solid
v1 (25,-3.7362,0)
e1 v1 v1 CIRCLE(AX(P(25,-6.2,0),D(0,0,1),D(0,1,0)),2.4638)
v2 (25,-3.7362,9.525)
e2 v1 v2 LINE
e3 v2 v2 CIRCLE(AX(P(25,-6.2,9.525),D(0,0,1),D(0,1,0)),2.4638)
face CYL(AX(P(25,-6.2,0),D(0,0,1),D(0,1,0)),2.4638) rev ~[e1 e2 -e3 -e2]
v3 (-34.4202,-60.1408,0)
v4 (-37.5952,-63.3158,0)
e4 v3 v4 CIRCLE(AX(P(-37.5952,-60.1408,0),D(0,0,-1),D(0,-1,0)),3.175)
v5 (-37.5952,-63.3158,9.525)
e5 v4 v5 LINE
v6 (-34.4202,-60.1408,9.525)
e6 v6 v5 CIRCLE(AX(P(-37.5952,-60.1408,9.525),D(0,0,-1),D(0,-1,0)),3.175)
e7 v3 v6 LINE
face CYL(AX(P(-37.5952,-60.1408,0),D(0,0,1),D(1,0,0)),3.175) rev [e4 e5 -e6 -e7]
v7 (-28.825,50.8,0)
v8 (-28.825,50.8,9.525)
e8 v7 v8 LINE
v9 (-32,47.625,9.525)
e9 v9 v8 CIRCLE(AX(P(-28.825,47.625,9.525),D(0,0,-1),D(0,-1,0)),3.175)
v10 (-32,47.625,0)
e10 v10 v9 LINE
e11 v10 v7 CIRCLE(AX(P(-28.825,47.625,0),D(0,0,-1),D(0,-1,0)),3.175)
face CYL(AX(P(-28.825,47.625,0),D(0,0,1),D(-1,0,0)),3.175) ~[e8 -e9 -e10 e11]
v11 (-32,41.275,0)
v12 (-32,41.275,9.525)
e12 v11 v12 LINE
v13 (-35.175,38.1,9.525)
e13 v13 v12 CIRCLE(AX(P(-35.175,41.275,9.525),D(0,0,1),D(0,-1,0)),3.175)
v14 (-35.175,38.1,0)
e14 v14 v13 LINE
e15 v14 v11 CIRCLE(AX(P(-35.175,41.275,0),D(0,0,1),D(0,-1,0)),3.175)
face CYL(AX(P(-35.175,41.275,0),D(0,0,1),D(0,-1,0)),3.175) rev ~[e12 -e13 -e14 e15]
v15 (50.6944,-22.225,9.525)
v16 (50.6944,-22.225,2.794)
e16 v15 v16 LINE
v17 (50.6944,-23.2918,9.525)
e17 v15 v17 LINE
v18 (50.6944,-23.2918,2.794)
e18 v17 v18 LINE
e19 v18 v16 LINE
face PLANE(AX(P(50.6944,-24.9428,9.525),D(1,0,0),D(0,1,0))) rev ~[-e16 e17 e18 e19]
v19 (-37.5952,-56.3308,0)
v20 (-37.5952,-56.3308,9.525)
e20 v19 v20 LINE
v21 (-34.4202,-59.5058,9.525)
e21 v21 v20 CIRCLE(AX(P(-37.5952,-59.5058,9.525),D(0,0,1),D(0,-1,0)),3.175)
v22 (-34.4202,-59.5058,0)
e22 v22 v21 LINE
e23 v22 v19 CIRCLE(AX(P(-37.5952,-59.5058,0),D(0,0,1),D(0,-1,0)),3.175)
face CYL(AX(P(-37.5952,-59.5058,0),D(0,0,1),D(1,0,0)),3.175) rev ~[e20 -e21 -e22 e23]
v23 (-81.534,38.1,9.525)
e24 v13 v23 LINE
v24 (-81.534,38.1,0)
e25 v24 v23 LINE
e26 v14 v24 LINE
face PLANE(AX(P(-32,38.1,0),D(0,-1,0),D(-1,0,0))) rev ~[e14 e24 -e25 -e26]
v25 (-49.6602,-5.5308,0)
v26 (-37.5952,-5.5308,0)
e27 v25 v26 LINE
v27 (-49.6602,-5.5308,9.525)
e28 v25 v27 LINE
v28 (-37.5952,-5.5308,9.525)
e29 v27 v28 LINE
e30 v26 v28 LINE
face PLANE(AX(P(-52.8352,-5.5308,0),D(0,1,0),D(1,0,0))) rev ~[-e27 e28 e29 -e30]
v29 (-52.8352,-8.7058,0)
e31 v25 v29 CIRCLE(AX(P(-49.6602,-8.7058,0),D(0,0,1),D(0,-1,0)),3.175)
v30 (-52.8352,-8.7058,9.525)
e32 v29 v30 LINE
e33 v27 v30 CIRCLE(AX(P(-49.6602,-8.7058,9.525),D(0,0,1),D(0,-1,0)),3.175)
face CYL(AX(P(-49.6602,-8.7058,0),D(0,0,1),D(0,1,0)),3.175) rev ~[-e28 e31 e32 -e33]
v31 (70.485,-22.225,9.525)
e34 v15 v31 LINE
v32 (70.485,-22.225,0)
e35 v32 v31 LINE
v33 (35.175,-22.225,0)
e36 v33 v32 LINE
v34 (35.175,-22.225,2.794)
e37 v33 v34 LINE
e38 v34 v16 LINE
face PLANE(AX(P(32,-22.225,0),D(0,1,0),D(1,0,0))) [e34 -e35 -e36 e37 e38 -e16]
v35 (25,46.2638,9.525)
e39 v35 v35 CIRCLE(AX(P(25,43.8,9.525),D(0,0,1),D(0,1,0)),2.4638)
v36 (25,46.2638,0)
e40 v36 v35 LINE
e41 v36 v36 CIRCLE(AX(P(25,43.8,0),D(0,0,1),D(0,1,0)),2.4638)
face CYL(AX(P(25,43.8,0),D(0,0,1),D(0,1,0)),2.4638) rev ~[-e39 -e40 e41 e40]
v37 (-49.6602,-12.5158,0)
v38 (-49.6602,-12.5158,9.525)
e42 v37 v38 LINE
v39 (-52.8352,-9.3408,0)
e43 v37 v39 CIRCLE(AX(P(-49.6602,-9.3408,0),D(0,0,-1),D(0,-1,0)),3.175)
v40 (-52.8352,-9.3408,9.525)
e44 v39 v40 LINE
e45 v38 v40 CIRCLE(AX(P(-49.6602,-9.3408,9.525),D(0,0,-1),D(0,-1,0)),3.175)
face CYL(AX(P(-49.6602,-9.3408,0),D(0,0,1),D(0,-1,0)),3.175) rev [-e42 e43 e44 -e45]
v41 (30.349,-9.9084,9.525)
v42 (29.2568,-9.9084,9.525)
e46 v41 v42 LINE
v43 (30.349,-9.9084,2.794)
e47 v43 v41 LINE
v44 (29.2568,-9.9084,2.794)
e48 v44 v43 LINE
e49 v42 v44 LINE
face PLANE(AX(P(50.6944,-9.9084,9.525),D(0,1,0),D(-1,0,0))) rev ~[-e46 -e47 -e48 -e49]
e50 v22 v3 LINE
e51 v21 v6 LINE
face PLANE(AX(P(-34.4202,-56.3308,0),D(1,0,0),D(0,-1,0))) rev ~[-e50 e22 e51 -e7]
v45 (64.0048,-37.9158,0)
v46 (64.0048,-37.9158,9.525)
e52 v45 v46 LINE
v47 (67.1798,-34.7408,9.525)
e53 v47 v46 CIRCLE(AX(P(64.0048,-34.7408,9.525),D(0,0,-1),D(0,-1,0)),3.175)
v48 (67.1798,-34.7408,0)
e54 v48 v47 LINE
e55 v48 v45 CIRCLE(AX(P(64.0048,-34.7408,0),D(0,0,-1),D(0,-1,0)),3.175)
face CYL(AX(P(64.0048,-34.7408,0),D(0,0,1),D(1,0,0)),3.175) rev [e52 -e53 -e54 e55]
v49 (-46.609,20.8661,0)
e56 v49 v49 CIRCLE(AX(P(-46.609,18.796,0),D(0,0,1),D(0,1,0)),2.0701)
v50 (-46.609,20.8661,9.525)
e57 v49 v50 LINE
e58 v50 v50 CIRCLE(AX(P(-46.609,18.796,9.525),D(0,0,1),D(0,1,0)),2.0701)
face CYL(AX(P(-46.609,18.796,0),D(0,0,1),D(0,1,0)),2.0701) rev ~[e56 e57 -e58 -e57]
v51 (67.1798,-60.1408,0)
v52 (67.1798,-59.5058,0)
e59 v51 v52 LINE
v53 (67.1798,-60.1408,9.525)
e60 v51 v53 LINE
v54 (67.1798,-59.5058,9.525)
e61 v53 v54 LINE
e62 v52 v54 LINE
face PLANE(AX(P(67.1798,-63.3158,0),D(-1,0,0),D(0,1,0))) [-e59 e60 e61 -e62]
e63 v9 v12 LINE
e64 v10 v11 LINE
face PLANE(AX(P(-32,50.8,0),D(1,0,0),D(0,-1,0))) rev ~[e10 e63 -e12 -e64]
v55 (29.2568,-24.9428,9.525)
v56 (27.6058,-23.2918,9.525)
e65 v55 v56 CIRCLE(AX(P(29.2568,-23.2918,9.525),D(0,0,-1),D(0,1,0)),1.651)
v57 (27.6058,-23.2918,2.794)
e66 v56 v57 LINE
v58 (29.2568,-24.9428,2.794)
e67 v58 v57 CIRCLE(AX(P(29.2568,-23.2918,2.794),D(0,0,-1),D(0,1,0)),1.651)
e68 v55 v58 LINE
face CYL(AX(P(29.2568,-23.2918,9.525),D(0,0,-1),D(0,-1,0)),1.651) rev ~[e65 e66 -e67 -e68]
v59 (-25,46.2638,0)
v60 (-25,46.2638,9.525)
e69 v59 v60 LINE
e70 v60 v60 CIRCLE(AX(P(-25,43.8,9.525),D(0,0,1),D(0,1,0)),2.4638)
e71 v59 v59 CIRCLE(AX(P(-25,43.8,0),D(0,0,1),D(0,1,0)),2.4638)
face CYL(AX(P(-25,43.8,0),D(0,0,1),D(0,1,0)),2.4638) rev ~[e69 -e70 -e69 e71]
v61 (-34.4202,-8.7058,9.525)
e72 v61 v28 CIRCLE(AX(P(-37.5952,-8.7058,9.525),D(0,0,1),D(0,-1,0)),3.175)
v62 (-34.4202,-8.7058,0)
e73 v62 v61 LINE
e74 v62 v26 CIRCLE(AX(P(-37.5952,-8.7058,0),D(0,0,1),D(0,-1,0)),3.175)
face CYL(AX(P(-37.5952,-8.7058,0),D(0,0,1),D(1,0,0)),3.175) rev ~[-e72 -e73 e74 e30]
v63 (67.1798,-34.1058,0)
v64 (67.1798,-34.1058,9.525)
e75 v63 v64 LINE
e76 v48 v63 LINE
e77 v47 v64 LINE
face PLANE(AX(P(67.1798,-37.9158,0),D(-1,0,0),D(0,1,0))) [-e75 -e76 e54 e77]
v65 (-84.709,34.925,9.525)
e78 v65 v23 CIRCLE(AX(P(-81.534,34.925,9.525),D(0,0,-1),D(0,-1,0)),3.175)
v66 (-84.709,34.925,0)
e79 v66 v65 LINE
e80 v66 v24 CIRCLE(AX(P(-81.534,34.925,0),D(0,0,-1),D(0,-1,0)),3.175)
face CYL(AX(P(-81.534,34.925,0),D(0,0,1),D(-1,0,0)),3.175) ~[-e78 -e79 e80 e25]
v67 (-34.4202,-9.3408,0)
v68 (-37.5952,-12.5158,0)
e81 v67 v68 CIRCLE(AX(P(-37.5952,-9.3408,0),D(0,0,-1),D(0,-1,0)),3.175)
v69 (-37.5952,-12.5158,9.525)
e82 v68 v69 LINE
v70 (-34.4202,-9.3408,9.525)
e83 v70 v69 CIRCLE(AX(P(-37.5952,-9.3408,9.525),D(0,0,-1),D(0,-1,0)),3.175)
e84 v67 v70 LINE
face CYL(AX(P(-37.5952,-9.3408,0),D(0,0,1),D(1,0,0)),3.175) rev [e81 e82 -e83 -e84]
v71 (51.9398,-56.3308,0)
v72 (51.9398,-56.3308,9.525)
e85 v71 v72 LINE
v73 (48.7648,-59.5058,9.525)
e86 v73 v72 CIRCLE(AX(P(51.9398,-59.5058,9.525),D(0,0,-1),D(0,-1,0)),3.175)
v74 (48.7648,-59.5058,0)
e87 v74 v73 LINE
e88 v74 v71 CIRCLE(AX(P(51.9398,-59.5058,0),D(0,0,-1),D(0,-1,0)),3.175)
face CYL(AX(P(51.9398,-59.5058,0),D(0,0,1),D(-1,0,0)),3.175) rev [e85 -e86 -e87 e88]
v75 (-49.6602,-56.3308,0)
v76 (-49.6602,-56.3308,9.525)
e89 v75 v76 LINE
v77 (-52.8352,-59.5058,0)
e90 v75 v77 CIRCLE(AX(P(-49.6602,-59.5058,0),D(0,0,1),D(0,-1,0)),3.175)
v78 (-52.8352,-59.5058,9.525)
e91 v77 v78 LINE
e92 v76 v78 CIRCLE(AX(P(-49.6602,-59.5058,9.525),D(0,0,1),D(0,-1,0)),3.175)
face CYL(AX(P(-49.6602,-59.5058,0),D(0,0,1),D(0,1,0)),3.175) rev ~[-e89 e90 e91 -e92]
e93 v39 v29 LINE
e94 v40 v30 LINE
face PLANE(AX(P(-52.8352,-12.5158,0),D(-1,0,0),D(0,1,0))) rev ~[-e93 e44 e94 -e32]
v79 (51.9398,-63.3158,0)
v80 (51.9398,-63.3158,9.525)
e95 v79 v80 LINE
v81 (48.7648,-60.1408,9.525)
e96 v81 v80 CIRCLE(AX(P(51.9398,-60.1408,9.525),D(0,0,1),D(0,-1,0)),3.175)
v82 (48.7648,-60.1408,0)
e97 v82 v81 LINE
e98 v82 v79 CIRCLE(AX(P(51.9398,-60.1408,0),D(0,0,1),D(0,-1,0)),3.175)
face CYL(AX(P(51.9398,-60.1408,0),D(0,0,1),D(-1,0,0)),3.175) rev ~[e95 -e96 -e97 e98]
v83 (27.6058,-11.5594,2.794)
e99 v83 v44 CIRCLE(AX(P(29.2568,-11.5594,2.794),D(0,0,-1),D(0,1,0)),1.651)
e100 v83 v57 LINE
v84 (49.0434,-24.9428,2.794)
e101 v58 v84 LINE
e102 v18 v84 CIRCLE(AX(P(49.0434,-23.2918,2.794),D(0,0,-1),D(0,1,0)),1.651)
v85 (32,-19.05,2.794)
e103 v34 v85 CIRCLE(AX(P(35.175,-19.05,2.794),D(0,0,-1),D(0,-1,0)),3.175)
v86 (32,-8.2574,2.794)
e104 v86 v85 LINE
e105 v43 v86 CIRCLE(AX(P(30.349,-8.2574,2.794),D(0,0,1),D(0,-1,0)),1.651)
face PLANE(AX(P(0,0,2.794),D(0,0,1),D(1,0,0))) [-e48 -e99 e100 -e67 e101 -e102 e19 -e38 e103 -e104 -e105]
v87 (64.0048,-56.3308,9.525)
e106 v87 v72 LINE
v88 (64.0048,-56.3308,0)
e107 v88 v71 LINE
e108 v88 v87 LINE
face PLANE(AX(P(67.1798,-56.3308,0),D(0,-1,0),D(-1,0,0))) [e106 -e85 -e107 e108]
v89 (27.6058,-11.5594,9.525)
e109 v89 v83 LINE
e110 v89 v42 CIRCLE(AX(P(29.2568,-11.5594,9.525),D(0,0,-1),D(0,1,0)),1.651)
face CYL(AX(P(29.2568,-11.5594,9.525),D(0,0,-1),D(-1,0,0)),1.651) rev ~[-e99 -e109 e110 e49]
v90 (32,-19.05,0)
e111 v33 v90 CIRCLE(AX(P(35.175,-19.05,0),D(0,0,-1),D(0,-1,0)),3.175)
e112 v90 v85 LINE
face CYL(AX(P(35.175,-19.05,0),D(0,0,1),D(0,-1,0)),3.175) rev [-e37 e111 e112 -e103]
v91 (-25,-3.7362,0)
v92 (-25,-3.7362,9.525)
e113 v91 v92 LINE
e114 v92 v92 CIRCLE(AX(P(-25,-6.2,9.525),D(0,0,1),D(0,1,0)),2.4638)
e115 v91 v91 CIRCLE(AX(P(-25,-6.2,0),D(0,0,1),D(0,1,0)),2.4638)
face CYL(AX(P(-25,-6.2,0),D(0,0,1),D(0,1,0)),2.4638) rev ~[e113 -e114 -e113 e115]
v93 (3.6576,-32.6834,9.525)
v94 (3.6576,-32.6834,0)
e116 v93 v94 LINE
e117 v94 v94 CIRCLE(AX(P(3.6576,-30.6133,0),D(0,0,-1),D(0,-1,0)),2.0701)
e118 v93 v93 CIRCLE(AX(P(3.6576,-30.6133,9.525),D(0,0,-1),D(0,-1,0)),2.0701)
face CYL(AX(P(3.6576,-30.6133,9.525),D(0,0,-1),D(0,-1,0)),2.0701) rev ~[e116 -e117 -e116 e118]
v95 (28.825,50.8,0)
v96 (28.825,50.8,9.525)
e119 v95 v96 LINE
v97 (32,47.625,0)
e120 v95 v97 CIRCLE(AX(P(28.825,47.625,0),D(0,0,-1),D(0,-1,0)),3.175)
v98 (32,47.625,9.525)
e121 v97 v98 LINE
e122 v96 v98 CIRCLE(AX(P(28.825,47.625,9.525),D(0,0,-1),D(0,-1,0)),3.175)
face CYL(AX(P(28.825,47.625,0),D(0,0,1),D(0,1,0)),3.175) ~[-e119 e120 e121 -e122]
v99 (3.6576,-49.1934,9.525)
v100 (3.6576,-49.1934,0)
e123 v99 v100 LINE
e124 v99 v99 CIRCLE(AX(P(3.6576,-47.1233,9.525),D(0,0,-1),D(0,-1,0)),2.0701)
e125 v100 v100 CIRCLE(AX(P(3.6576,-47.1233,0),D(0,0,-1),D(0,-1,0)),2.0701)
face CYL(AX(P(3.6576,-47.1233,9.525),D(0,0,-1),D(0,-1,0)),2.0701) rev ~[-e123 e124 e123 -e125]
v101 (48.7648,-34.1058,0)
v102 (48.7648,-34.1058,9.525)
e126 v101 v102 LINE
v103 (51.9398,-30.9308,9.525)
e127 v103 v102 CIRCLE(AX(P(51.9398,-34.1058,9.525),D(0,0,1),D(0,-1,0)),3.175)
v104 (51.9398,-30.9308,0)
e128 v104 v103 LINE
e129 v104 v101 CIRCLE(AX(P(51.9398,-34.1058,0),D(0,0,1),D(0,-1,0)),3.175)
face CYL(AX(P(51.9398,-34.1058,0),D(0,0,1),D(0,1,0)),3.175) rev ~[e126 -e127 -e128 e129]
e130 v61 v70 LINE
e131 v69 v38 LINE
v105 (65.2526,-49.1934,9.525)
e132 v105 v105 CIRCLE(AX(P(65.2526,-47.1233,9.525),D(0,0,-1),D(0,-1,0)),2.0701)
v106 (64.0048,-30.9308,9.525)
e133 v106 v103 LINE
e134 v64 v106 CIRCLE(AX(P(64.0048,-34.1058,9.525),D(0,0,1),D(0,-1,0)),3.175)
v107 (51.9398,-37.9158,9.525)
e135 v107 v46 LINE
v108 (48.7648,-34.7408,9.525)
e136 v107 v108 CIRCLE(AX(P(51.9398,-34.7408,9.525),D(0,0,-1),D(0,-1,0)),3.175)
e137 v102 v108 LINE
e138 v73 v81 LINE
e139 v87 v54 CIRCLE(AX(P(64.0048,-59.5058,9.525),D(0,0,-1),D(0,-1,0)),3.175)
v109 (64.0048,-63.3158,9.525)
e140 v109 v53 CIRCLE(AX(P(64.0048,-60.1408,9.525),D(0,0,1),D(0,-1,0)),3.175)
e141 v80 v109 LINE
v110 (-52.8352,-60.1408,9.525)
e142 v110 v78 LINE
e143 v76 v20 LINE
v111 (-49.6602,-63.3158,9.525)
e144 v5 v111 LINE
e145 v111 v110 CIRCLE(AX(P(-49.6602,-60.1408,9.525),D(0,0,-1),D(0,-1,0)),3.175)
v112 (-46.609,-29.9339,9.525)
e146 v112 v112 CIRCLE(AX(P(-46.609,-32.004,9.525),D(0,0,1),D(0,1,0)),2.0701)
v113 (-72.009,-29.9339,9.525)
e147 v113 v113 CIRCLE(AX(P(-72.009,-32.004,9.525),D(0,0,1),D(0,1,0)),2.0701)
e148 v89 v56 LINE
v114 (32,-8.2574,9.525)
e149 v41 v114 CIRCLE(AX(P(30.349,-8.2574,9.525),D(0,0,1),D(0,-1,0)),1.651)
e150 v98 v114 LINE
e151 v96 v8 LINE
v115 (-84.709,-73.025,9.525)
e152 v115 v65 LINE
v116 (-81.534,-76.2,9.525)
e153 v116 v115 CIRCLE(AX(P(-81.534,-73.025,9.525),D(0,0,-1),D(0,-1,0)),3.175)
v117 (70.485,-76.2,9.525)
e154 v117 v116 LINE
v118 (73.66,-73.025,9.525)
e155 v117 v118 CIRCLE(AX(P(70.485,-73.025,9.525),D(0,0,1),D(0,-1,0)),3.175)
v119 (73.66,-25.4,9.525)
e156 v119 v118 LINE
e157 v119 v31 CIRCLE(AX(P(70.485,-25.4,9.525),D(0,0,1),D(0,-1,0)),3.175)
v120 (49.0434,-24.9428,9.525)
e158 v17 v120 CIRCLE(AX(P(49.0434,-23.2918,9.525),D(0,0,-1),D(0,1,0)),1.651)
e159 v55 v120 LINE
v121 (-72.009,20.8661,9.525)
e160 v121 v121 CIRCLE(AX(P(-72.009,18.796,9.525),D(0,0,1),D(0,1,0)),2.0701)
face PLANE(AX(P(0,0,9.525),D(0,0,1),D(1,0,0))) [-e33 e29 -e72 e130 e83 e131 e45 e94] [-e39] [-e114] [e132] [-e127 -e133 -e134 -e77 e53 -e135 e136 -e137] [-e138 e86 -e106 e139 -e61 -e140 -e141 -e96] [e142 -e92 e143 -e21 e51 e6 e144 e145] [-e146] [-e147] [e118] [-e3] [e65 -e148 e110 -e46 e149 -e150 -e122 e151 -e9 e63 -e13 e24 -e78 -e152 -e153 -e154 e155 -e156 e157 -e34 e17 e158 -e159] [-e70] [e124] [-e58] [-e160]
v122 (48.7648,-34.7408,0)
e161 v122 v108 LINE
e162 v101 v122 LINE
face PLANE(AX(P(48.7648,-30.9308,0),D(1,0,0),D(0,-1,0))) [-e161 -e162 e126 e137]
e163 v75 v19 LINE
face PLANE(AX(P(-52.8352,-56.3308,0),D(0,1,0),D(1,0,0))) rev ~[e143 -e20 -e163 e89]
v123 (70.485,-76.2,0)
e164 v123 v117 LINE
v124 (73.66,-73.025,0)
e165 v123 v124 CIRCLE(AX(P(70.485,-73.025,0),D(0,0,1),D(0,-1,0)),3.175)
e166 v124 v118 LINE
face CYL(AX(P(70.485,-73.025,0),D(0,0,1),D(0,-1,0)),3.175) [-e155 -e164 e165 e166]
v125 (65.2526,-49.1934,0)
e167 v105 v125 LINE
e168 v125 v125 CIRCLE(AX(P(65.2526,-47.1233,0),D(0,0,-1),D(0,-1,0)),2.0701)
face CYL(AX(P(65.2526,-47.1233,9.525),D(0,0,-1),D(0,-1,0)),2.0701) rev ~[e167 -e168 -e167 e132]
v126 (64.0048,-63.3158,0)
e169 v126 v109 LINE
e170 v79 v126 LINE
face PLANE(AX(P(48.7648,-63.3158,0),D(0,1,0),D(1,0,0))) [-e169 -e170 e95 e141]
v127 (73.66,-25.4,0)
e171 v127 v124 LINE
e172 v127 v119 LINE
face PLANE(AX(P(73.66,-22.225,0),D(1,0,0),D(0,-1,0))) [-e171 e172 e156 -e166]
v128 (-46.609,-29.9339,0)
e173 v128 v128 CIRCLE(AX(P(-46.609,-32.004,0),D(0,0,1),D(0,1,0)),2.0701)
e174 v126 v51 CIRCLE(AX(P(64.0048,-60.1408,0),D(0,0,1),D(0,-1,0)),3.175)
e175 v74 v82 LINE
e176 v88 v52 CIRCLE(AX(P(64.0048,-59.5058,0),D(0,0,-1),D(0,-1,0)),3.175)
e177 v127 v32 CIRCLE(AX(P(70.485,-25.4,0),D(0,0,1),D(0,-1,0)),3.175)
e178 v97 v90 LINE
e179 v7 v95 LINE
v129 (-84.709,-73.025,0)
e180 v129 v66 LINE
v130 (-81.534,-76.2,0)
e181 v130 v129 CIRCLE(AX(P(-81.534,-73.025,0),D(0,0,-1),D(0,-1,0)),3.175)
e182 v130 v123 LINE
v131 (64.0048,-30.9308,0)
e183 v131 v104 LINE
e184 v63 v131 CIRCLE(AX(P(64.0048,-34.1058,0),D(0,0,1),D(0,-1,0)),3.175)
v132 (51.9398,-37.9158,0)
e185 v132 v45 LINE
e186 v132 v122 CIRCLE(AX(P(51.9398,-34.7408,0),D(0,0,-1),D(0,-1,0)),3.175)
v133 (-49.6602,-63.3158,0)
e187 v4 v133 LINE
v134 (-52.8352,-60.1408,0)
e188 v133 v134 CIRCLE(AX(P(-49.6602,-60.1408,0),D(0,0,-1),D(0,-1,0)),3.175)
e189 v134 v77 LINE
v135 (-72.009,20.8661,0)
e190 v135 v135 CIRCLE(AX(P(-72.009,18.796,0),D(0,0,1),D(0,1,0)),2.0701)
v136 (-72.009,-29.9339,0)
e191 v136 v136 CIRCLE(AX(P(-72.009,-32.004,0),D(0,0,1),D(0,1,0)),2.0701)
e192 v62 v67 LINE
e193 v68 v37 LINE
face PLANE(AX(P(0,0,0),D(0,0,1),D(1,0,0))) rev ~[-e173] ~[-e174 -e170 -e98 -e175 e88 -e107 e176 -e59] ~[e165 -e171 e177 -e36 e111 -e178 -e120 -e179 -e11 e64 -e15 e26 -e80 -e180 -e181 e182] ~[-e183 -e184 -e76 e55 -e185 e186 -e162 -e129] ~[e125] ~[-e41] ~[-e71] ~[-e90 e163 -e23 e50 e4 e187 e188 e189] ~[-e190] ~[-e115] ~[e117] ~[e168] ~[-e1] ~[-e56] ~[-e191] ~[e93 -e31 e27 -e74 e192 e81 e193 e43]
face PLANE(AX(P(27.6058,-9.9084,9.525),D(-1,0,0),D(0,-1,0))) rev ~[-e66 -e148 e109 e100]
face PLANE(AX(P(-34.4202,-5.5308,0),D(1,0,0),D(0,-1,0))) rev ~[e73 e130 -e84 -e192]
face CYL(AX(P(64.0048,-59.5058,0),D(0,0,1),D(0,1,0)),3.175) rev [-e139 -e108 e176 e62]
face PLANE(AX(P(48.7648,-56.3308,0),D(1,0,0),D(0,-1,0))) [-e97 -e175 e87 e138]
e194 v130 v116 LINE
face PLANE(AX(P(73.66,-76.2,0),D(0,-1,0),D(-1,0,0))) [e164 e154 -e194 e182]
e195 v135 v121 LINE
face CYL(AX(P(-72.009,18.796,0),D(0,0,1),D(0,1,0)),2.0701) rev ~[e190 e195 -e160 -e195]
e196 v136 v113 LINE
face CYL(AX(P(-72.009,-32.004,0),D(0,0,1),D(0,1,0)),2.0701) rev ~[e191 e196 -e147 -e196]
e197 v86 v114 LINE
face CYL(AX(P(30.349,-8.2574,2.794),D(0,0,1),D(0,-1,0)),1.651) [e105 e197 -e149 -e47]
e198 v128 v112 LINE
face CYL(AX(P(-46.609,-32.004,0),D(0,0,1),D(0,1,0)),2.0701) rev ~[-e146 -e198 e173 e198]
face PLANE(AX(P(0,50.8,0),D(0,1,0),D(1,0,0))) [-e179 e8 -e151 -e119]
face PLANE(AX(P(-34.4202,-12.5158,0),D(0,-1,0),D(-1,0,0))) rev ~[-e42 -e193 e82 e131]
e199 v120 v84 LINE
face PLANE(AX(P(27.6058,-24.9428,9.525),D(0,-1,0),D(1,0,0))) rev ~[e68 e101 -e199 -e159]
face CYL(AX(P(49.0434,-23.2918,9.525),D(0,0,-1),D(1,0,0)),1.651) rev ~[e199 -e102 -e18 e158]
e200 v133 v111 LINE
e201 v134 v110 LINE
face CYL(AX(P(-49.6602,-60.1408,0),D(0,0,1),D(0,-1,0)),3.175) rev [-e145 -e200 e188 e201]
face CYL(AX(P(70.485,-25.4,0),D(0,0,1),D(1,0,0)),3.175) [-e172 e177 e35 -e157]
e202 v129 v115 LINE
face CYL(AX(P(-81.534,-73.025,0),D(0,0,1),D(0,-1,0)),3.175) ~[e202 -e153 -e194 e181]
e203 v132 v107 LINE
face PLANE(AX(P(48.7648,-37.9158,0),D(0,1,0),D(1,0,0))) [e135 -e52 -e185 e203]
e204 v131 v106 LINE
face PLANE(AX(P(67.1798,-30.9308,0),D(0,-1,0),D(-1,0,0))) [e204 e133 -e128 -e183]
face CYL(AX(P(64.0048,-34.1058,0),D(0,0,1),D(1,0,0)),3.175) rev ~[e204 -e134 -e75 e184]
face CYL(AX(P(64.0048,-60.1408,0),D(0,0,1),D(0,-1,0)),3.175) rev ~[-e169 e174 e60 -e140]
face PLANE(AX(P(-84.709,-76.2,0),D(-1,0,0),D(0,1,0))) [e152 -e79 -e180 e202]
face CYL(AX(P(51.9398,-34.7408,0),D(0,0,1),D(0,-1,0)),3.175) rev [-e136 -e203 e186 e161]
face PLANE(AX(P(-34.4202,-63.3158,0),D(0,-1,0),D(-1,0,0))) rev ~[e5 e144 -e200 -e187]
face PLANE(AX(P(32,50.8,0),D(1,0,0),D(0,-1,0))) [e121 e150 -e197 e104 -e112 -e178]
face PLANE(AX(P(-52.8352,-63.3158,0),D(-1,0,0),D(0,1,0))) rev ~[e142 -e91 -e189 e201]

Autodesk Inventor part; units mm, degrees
ref_plane "YZ Plane" through (0, 0, 0) normal (1, 0, 0) x (0, 1, 0)
ref_plane "XZ Plane" through (0, 0, 0) normal (0, 1, 0) x (-1, 0, 0)
ref_plane "XY Plane" through (0, 0, 0) normal (0, 0, 1) x (1, 0, 0)
sketch "Sketch1" plane through (0, 0, 0) normal (0, 0, 1) x (1, 0, 0)
  line L0 (73.66, -76.2) -> (-84.709, -76.2)
  line L1 (-84.709, -76.2) -> (-84.709, 50.8)
  line L2 (-84.709, 50.8) -> (73.66, 50.8)
  line L3 (73.66, 50.8) -> (73.66, -76.2)
  line L4 (-84.709, 50.8) -> (-32, 50.8)
  line L5 (-32, 50.8) -> (-32, 38.1)
  line L6 (-32, 38.1) -> (-84.709, 38.1)
  line L7 (-84.709, 38.1) -> (-84.709, 50.8)
  line L8 (73.66, 50.8) -> (32, 50.8)
  line L9 (32, 50.8) -> (32, -22.225)
  line L10 (32, -22.225) -> (73.66, -22.225)
  line L11 (73.66, -22.225) -> (73.66, 50.8)
  line L12 (-34.4202, -12.5158) -> (-52.8352, -12.5158)
  line L13 (-52.8352, -12.5158) -> (-52.8352, -5.5308)
  line L14 (-52.8352, -5.5308) -> (-34.4202, -5.5308)
  line L15 (-34.4202, -5.5308) -> (-34.4202, -12.5158)
  line L16 (-34.4202, -12.5158) -> (-52.8352, -5.5308) construction
  line L17 (-52.8352, -12.5158) -> (-34.4202, -5.5308) construction
  line L18 (-34.4202, -63.3158) -> (-52.8352, -63.3158)
  line L19 (-52.8352, -63.3158) -> (-52.8352, -56.3308)
  line L20 (-52.8352, -56.3308) -> (-34.4202, -56.3308)
  line L21 (-34.4202, -56.3308) -> (-34.4202, -63.3158)
  line L22 (-34.4202, -63.3158) -> (-52.8352, -56.3308) construction
  line L23 (-52.8352, -63.3158) -> (-34.4202, -56.3308) construction
  line L24 (48.7648, -63.3158) -> (67.1798, -63.3158)
  line L25 (67.1798, -63.3158) -> (67.1798, -56.3308)
  line L26 (67.1798, -56.3308) -> (48.7648, -56.3308)
  line L27 (48.7648, -56.3308) -> (48.7648, -63.3158)
  line L28 (48.7648, -63.3158) -> (67.1798, -56.3308) construction
  line L29 (67.1798, -63.3158) -> (48.7648, -56.3308) construction
  line L30 (-43.6277, -59.8233) -> (-43.6277, -9.0233) construction
  line L31 (-43.6277, -59.8233) -> (-43.6277, -56.3308) construction
  line L32 (-25, 43.8) -> (25, 43.8) construction
  line L33 (25, 43.8) -> (25, -6.2) construction
  line L34 (25, -6.2) -> (-25, -6.2) construction
  line L35 (-25, -6.2) -> (-25, 43.8) construction
  line L36 (-25, 18.8) -> (25, 18.8) construction
  line L37 (57.9723, -59.8233) -> (-43.6277, -59.8233) construction
  line L38 (0, 43.8) -> (0, -6.2) construction
  line L39 (32, -13.2) -> (-32, -13.2) construction
  line L40 (-32, -13.2) -> (-32, 50.8) construction
  line L41 (-32, 50.8) -> (32, 50.8) construction
  line L42 (32, 50.8) -> (32, -13.2) construction
  line L43 (32, -13.2) -> (-32, 50.8) construction
  line L44 (-32, -13.2) -> (32, 50.8) construction
  circle A0 centre (-37.6333, -9.0233) radius 3.0299 construction
  circle A1 centre (-43.6277, -9.0233) radius 2.9972 construction
  circle A2 centre (-37.6333, -9.0233) radius 4.7625 construction
  line L45 (0, 76.2) -> (0, -101.6) projected
  line L46 (57.9723, -59.8233) -> (57.9723, -34.4233) construction
  line L47 (67.1798, -30.9308) -> (48.7648, -30.9308)
  line L48 (48.7648, -30.9308) -> (48.7648, -37.9158)
  line L49 (48.7648, -37.9158) -> (67.1798, -37.9158)
  line L50 (67.1798, -37.9158) -> (67.1798, -30.9308)
  line L51 (67.1798, -30.9308) -> (48.7648, -37.9158) construction
  line L52 (48.7648, -30.9308) -> (67.1798, -37.9158) construction
  point P0 (0, 0)
  point P1 (0, 0)
  point P2 (0, 0)
  point P3 (0, 18.8)
  dimension "d1" = 127
  dimension "d2" = 12.7
  dimension "d24" = 6.985
  dimension "d25" = 18.415
  dimension "d26" = 6.985
  dimension "d34" = 6.985
  dimension "d40" = 50
  dimension "d41" = 50
  dimension "d45" = 101.6
  dimension "d48" = 59.8233
  dimension "d49" = 50.8
  dimension "d50" = 64
  dimension "d51" = 64
  dimension "d52" = 0
  dimension "d53" = 5.9944
  dimension "d54" = 5.9944
  dimension "d57" = 50.8
  dimension "d60" = 9.525
  dimension "d61" = 73.025
  dimension "d63" = 64
  dimension "d64" = 0
  dimension "d65" = 84.709
  dimension "d66" = 73.66
  dimension "d67" = 43.6277
  dimension "d68" = 6.4802
  dimension "d69" = 158.369
  dimension "d70" = 31.8738
  dimension "d71" = 25.4
extrude "Extrusion1" add sketch "Sketch1" along normal blind 9.525 contours L0 L45 L2 L9 L10 L3 | L0 L1 L6 L5 L2 L45 | L12 L13 L14 L15 | L18 L19 L20 L21 | L27 L26 L25 L24 | L50 L49 L48 L47
hole "Hole1" at (-25, 43.8, 0) at (25, 43.8, 0) at (25, -6.2, 0) at (-25, -6.2, 0) direction (0, 0, 1) diameter 4.9276 end through all
extrude "Extrusion2" cut sketch "Sketch1" along normal up to next contours L12 L13 L14 L15 | L18 L19 L20 L21 | L27 L26 L25 L24 | L50 L49 L48 L47
sketch "Sketch3" plane through (0, 0, 9.525) normal (0, 0, 1) x (1, 0, 0)
  line L0 (73.66, -22.225) -> (32, -22.225) projected
  line L1 (32, -22.225) -> (32, 50.8) projected
  line L2 (27.6058, -24.9428) -> (50.6944, -24.9428)
  line L3 (50.6944, -24.9428) -> (50.6944, -9.9084)
  line L4 (50.6944, -9.9084) -> (27.6058, -9.9084)
  line L5 (27.6058, -9.9084) -> (27.6058, -24.9428)
  point P0 (0, 0)
  dimension "d99" = 23.0886
  dimension "d100" = 2.7178
  dimension "d101" = 4.3942
extrude "Extrusion4" cut sketch "Sketch3" against normal blind 6.731
fillet "Fillet1" radius 3.175 8 edges at (-32, 38.1, 4.7625) (-32, 50.8, 4.7625) (32, 50.8, 4.7625) (73.66, -22.225, 4.7625) (-84.709, 38.1, 4.7625) (-84.709, -76.2, 4.7625) (73.66, -76.2, 4.7625) (32, -22.225, 1.397)
fillet "Fillet2" radius 3.175 16 edges at (-52.8352, -63.3158, 4.7625) (-52.8352, -12.5158, 4.7625) (-52.8352, -56.3308, 4.7625) (-52.8352, -5.5308, 4.7625) (48.7648, -63.3158, 4.7625) (48.7648, -56.3308, 4.7625) (67.1798, -56.3308, 4.7625) (67.1798, -63.3158, 4.7625) (-34.4202, -5.5308, 4.7625) (-34.4202, -12.5158, 4.7625) (-34.4202, -56.3308, 4.7625) (-34.4202, -63.3158, 4.7625) (48.7648, -30.9308, 4.7625) (48.7648, -37.9158, 4.7625) (67.1798, -30.9308, 4.7625) (67.1798, -37.9158, 4.7625)
sketch "Sketch2" plane through (0, 0, 0) normal (0, 0, 1) x (1, 0, 0)
  line L0 (-72.009, 18.796) -> (-46.609, 18.796) construction
  line L1 (-46.609, 18.796) -> (-46.609, -32.004) construction
  line L2 (-46.609, -32.004) -> (-72.009, -32.004) construction
  line L3 (-72.009, -32.004) -> (-72.009, 18.796) construction
  line L4 (-35.175, 38.1) -> (-81.534, 38.1) construction
  line L5 (-84.709, 34.925) -> (-84.709, -73.025) construction
  line L6 (-52.8352, -9.3408) -> (-52.8352, -8.7058) construction
  line L7 (-52.8352, -9.0233) -> (-63.8216, -9.0233) construction
  point P0 (0, 0)
  dimension "d73" = 25.4
  dimension "d74" = 50.8
  dimension "d75" = 19.304
  dimension "d76" = 12.7
  dimension "d77" = 47.1232
hole "Hole2" at (-72.009, 18.796, 0) at (-46.609, 18.796, 0) at (-46.609, -32.004, 0) at (-72.009, -32.004, 0) direction (0, 0, 1) diameter 4.1402 end through all
fillet "Fillet5" radius 1.651 4 edges at (32, -9.9084, 6.1595) (27.6058, -9.9084, 6.1595) (27.6058, -24.9428, 6.1595) (50.6944, -24.9428, 6.1595)
sketch "Sketch4" plane through (0, 0, 9.525) normal (0, 0, 1) x (1, 0, 0)
  line L0 (57.9723, -34.4233) -> (57.9723, -59.8233) construction
  line L1 (57.9723, -47.1233) -> (65.2526, -47.1233) construction
  line L2 (73.66, -73.025) -> (73.66, -25.4) construction
  point P0 (0, 0)
  point P1 (3.6576, -47.1233)
  point P2 (3.6576, -30.6133)
  dimension "d107" = 8.4074
  dimension "d115" = 61.595
  dimension "d116" = 16.51
hole "Hole3" at (65.2526, -47.1233, 9.525) at (3.6576, -47.1233, 9.525) at (3.6576, -30.6133, 9.525) direction (0, 0, -1) diameter 4.1402 end through all
properties part number "J005167" material "ALUMINUM, 6061-T651"
